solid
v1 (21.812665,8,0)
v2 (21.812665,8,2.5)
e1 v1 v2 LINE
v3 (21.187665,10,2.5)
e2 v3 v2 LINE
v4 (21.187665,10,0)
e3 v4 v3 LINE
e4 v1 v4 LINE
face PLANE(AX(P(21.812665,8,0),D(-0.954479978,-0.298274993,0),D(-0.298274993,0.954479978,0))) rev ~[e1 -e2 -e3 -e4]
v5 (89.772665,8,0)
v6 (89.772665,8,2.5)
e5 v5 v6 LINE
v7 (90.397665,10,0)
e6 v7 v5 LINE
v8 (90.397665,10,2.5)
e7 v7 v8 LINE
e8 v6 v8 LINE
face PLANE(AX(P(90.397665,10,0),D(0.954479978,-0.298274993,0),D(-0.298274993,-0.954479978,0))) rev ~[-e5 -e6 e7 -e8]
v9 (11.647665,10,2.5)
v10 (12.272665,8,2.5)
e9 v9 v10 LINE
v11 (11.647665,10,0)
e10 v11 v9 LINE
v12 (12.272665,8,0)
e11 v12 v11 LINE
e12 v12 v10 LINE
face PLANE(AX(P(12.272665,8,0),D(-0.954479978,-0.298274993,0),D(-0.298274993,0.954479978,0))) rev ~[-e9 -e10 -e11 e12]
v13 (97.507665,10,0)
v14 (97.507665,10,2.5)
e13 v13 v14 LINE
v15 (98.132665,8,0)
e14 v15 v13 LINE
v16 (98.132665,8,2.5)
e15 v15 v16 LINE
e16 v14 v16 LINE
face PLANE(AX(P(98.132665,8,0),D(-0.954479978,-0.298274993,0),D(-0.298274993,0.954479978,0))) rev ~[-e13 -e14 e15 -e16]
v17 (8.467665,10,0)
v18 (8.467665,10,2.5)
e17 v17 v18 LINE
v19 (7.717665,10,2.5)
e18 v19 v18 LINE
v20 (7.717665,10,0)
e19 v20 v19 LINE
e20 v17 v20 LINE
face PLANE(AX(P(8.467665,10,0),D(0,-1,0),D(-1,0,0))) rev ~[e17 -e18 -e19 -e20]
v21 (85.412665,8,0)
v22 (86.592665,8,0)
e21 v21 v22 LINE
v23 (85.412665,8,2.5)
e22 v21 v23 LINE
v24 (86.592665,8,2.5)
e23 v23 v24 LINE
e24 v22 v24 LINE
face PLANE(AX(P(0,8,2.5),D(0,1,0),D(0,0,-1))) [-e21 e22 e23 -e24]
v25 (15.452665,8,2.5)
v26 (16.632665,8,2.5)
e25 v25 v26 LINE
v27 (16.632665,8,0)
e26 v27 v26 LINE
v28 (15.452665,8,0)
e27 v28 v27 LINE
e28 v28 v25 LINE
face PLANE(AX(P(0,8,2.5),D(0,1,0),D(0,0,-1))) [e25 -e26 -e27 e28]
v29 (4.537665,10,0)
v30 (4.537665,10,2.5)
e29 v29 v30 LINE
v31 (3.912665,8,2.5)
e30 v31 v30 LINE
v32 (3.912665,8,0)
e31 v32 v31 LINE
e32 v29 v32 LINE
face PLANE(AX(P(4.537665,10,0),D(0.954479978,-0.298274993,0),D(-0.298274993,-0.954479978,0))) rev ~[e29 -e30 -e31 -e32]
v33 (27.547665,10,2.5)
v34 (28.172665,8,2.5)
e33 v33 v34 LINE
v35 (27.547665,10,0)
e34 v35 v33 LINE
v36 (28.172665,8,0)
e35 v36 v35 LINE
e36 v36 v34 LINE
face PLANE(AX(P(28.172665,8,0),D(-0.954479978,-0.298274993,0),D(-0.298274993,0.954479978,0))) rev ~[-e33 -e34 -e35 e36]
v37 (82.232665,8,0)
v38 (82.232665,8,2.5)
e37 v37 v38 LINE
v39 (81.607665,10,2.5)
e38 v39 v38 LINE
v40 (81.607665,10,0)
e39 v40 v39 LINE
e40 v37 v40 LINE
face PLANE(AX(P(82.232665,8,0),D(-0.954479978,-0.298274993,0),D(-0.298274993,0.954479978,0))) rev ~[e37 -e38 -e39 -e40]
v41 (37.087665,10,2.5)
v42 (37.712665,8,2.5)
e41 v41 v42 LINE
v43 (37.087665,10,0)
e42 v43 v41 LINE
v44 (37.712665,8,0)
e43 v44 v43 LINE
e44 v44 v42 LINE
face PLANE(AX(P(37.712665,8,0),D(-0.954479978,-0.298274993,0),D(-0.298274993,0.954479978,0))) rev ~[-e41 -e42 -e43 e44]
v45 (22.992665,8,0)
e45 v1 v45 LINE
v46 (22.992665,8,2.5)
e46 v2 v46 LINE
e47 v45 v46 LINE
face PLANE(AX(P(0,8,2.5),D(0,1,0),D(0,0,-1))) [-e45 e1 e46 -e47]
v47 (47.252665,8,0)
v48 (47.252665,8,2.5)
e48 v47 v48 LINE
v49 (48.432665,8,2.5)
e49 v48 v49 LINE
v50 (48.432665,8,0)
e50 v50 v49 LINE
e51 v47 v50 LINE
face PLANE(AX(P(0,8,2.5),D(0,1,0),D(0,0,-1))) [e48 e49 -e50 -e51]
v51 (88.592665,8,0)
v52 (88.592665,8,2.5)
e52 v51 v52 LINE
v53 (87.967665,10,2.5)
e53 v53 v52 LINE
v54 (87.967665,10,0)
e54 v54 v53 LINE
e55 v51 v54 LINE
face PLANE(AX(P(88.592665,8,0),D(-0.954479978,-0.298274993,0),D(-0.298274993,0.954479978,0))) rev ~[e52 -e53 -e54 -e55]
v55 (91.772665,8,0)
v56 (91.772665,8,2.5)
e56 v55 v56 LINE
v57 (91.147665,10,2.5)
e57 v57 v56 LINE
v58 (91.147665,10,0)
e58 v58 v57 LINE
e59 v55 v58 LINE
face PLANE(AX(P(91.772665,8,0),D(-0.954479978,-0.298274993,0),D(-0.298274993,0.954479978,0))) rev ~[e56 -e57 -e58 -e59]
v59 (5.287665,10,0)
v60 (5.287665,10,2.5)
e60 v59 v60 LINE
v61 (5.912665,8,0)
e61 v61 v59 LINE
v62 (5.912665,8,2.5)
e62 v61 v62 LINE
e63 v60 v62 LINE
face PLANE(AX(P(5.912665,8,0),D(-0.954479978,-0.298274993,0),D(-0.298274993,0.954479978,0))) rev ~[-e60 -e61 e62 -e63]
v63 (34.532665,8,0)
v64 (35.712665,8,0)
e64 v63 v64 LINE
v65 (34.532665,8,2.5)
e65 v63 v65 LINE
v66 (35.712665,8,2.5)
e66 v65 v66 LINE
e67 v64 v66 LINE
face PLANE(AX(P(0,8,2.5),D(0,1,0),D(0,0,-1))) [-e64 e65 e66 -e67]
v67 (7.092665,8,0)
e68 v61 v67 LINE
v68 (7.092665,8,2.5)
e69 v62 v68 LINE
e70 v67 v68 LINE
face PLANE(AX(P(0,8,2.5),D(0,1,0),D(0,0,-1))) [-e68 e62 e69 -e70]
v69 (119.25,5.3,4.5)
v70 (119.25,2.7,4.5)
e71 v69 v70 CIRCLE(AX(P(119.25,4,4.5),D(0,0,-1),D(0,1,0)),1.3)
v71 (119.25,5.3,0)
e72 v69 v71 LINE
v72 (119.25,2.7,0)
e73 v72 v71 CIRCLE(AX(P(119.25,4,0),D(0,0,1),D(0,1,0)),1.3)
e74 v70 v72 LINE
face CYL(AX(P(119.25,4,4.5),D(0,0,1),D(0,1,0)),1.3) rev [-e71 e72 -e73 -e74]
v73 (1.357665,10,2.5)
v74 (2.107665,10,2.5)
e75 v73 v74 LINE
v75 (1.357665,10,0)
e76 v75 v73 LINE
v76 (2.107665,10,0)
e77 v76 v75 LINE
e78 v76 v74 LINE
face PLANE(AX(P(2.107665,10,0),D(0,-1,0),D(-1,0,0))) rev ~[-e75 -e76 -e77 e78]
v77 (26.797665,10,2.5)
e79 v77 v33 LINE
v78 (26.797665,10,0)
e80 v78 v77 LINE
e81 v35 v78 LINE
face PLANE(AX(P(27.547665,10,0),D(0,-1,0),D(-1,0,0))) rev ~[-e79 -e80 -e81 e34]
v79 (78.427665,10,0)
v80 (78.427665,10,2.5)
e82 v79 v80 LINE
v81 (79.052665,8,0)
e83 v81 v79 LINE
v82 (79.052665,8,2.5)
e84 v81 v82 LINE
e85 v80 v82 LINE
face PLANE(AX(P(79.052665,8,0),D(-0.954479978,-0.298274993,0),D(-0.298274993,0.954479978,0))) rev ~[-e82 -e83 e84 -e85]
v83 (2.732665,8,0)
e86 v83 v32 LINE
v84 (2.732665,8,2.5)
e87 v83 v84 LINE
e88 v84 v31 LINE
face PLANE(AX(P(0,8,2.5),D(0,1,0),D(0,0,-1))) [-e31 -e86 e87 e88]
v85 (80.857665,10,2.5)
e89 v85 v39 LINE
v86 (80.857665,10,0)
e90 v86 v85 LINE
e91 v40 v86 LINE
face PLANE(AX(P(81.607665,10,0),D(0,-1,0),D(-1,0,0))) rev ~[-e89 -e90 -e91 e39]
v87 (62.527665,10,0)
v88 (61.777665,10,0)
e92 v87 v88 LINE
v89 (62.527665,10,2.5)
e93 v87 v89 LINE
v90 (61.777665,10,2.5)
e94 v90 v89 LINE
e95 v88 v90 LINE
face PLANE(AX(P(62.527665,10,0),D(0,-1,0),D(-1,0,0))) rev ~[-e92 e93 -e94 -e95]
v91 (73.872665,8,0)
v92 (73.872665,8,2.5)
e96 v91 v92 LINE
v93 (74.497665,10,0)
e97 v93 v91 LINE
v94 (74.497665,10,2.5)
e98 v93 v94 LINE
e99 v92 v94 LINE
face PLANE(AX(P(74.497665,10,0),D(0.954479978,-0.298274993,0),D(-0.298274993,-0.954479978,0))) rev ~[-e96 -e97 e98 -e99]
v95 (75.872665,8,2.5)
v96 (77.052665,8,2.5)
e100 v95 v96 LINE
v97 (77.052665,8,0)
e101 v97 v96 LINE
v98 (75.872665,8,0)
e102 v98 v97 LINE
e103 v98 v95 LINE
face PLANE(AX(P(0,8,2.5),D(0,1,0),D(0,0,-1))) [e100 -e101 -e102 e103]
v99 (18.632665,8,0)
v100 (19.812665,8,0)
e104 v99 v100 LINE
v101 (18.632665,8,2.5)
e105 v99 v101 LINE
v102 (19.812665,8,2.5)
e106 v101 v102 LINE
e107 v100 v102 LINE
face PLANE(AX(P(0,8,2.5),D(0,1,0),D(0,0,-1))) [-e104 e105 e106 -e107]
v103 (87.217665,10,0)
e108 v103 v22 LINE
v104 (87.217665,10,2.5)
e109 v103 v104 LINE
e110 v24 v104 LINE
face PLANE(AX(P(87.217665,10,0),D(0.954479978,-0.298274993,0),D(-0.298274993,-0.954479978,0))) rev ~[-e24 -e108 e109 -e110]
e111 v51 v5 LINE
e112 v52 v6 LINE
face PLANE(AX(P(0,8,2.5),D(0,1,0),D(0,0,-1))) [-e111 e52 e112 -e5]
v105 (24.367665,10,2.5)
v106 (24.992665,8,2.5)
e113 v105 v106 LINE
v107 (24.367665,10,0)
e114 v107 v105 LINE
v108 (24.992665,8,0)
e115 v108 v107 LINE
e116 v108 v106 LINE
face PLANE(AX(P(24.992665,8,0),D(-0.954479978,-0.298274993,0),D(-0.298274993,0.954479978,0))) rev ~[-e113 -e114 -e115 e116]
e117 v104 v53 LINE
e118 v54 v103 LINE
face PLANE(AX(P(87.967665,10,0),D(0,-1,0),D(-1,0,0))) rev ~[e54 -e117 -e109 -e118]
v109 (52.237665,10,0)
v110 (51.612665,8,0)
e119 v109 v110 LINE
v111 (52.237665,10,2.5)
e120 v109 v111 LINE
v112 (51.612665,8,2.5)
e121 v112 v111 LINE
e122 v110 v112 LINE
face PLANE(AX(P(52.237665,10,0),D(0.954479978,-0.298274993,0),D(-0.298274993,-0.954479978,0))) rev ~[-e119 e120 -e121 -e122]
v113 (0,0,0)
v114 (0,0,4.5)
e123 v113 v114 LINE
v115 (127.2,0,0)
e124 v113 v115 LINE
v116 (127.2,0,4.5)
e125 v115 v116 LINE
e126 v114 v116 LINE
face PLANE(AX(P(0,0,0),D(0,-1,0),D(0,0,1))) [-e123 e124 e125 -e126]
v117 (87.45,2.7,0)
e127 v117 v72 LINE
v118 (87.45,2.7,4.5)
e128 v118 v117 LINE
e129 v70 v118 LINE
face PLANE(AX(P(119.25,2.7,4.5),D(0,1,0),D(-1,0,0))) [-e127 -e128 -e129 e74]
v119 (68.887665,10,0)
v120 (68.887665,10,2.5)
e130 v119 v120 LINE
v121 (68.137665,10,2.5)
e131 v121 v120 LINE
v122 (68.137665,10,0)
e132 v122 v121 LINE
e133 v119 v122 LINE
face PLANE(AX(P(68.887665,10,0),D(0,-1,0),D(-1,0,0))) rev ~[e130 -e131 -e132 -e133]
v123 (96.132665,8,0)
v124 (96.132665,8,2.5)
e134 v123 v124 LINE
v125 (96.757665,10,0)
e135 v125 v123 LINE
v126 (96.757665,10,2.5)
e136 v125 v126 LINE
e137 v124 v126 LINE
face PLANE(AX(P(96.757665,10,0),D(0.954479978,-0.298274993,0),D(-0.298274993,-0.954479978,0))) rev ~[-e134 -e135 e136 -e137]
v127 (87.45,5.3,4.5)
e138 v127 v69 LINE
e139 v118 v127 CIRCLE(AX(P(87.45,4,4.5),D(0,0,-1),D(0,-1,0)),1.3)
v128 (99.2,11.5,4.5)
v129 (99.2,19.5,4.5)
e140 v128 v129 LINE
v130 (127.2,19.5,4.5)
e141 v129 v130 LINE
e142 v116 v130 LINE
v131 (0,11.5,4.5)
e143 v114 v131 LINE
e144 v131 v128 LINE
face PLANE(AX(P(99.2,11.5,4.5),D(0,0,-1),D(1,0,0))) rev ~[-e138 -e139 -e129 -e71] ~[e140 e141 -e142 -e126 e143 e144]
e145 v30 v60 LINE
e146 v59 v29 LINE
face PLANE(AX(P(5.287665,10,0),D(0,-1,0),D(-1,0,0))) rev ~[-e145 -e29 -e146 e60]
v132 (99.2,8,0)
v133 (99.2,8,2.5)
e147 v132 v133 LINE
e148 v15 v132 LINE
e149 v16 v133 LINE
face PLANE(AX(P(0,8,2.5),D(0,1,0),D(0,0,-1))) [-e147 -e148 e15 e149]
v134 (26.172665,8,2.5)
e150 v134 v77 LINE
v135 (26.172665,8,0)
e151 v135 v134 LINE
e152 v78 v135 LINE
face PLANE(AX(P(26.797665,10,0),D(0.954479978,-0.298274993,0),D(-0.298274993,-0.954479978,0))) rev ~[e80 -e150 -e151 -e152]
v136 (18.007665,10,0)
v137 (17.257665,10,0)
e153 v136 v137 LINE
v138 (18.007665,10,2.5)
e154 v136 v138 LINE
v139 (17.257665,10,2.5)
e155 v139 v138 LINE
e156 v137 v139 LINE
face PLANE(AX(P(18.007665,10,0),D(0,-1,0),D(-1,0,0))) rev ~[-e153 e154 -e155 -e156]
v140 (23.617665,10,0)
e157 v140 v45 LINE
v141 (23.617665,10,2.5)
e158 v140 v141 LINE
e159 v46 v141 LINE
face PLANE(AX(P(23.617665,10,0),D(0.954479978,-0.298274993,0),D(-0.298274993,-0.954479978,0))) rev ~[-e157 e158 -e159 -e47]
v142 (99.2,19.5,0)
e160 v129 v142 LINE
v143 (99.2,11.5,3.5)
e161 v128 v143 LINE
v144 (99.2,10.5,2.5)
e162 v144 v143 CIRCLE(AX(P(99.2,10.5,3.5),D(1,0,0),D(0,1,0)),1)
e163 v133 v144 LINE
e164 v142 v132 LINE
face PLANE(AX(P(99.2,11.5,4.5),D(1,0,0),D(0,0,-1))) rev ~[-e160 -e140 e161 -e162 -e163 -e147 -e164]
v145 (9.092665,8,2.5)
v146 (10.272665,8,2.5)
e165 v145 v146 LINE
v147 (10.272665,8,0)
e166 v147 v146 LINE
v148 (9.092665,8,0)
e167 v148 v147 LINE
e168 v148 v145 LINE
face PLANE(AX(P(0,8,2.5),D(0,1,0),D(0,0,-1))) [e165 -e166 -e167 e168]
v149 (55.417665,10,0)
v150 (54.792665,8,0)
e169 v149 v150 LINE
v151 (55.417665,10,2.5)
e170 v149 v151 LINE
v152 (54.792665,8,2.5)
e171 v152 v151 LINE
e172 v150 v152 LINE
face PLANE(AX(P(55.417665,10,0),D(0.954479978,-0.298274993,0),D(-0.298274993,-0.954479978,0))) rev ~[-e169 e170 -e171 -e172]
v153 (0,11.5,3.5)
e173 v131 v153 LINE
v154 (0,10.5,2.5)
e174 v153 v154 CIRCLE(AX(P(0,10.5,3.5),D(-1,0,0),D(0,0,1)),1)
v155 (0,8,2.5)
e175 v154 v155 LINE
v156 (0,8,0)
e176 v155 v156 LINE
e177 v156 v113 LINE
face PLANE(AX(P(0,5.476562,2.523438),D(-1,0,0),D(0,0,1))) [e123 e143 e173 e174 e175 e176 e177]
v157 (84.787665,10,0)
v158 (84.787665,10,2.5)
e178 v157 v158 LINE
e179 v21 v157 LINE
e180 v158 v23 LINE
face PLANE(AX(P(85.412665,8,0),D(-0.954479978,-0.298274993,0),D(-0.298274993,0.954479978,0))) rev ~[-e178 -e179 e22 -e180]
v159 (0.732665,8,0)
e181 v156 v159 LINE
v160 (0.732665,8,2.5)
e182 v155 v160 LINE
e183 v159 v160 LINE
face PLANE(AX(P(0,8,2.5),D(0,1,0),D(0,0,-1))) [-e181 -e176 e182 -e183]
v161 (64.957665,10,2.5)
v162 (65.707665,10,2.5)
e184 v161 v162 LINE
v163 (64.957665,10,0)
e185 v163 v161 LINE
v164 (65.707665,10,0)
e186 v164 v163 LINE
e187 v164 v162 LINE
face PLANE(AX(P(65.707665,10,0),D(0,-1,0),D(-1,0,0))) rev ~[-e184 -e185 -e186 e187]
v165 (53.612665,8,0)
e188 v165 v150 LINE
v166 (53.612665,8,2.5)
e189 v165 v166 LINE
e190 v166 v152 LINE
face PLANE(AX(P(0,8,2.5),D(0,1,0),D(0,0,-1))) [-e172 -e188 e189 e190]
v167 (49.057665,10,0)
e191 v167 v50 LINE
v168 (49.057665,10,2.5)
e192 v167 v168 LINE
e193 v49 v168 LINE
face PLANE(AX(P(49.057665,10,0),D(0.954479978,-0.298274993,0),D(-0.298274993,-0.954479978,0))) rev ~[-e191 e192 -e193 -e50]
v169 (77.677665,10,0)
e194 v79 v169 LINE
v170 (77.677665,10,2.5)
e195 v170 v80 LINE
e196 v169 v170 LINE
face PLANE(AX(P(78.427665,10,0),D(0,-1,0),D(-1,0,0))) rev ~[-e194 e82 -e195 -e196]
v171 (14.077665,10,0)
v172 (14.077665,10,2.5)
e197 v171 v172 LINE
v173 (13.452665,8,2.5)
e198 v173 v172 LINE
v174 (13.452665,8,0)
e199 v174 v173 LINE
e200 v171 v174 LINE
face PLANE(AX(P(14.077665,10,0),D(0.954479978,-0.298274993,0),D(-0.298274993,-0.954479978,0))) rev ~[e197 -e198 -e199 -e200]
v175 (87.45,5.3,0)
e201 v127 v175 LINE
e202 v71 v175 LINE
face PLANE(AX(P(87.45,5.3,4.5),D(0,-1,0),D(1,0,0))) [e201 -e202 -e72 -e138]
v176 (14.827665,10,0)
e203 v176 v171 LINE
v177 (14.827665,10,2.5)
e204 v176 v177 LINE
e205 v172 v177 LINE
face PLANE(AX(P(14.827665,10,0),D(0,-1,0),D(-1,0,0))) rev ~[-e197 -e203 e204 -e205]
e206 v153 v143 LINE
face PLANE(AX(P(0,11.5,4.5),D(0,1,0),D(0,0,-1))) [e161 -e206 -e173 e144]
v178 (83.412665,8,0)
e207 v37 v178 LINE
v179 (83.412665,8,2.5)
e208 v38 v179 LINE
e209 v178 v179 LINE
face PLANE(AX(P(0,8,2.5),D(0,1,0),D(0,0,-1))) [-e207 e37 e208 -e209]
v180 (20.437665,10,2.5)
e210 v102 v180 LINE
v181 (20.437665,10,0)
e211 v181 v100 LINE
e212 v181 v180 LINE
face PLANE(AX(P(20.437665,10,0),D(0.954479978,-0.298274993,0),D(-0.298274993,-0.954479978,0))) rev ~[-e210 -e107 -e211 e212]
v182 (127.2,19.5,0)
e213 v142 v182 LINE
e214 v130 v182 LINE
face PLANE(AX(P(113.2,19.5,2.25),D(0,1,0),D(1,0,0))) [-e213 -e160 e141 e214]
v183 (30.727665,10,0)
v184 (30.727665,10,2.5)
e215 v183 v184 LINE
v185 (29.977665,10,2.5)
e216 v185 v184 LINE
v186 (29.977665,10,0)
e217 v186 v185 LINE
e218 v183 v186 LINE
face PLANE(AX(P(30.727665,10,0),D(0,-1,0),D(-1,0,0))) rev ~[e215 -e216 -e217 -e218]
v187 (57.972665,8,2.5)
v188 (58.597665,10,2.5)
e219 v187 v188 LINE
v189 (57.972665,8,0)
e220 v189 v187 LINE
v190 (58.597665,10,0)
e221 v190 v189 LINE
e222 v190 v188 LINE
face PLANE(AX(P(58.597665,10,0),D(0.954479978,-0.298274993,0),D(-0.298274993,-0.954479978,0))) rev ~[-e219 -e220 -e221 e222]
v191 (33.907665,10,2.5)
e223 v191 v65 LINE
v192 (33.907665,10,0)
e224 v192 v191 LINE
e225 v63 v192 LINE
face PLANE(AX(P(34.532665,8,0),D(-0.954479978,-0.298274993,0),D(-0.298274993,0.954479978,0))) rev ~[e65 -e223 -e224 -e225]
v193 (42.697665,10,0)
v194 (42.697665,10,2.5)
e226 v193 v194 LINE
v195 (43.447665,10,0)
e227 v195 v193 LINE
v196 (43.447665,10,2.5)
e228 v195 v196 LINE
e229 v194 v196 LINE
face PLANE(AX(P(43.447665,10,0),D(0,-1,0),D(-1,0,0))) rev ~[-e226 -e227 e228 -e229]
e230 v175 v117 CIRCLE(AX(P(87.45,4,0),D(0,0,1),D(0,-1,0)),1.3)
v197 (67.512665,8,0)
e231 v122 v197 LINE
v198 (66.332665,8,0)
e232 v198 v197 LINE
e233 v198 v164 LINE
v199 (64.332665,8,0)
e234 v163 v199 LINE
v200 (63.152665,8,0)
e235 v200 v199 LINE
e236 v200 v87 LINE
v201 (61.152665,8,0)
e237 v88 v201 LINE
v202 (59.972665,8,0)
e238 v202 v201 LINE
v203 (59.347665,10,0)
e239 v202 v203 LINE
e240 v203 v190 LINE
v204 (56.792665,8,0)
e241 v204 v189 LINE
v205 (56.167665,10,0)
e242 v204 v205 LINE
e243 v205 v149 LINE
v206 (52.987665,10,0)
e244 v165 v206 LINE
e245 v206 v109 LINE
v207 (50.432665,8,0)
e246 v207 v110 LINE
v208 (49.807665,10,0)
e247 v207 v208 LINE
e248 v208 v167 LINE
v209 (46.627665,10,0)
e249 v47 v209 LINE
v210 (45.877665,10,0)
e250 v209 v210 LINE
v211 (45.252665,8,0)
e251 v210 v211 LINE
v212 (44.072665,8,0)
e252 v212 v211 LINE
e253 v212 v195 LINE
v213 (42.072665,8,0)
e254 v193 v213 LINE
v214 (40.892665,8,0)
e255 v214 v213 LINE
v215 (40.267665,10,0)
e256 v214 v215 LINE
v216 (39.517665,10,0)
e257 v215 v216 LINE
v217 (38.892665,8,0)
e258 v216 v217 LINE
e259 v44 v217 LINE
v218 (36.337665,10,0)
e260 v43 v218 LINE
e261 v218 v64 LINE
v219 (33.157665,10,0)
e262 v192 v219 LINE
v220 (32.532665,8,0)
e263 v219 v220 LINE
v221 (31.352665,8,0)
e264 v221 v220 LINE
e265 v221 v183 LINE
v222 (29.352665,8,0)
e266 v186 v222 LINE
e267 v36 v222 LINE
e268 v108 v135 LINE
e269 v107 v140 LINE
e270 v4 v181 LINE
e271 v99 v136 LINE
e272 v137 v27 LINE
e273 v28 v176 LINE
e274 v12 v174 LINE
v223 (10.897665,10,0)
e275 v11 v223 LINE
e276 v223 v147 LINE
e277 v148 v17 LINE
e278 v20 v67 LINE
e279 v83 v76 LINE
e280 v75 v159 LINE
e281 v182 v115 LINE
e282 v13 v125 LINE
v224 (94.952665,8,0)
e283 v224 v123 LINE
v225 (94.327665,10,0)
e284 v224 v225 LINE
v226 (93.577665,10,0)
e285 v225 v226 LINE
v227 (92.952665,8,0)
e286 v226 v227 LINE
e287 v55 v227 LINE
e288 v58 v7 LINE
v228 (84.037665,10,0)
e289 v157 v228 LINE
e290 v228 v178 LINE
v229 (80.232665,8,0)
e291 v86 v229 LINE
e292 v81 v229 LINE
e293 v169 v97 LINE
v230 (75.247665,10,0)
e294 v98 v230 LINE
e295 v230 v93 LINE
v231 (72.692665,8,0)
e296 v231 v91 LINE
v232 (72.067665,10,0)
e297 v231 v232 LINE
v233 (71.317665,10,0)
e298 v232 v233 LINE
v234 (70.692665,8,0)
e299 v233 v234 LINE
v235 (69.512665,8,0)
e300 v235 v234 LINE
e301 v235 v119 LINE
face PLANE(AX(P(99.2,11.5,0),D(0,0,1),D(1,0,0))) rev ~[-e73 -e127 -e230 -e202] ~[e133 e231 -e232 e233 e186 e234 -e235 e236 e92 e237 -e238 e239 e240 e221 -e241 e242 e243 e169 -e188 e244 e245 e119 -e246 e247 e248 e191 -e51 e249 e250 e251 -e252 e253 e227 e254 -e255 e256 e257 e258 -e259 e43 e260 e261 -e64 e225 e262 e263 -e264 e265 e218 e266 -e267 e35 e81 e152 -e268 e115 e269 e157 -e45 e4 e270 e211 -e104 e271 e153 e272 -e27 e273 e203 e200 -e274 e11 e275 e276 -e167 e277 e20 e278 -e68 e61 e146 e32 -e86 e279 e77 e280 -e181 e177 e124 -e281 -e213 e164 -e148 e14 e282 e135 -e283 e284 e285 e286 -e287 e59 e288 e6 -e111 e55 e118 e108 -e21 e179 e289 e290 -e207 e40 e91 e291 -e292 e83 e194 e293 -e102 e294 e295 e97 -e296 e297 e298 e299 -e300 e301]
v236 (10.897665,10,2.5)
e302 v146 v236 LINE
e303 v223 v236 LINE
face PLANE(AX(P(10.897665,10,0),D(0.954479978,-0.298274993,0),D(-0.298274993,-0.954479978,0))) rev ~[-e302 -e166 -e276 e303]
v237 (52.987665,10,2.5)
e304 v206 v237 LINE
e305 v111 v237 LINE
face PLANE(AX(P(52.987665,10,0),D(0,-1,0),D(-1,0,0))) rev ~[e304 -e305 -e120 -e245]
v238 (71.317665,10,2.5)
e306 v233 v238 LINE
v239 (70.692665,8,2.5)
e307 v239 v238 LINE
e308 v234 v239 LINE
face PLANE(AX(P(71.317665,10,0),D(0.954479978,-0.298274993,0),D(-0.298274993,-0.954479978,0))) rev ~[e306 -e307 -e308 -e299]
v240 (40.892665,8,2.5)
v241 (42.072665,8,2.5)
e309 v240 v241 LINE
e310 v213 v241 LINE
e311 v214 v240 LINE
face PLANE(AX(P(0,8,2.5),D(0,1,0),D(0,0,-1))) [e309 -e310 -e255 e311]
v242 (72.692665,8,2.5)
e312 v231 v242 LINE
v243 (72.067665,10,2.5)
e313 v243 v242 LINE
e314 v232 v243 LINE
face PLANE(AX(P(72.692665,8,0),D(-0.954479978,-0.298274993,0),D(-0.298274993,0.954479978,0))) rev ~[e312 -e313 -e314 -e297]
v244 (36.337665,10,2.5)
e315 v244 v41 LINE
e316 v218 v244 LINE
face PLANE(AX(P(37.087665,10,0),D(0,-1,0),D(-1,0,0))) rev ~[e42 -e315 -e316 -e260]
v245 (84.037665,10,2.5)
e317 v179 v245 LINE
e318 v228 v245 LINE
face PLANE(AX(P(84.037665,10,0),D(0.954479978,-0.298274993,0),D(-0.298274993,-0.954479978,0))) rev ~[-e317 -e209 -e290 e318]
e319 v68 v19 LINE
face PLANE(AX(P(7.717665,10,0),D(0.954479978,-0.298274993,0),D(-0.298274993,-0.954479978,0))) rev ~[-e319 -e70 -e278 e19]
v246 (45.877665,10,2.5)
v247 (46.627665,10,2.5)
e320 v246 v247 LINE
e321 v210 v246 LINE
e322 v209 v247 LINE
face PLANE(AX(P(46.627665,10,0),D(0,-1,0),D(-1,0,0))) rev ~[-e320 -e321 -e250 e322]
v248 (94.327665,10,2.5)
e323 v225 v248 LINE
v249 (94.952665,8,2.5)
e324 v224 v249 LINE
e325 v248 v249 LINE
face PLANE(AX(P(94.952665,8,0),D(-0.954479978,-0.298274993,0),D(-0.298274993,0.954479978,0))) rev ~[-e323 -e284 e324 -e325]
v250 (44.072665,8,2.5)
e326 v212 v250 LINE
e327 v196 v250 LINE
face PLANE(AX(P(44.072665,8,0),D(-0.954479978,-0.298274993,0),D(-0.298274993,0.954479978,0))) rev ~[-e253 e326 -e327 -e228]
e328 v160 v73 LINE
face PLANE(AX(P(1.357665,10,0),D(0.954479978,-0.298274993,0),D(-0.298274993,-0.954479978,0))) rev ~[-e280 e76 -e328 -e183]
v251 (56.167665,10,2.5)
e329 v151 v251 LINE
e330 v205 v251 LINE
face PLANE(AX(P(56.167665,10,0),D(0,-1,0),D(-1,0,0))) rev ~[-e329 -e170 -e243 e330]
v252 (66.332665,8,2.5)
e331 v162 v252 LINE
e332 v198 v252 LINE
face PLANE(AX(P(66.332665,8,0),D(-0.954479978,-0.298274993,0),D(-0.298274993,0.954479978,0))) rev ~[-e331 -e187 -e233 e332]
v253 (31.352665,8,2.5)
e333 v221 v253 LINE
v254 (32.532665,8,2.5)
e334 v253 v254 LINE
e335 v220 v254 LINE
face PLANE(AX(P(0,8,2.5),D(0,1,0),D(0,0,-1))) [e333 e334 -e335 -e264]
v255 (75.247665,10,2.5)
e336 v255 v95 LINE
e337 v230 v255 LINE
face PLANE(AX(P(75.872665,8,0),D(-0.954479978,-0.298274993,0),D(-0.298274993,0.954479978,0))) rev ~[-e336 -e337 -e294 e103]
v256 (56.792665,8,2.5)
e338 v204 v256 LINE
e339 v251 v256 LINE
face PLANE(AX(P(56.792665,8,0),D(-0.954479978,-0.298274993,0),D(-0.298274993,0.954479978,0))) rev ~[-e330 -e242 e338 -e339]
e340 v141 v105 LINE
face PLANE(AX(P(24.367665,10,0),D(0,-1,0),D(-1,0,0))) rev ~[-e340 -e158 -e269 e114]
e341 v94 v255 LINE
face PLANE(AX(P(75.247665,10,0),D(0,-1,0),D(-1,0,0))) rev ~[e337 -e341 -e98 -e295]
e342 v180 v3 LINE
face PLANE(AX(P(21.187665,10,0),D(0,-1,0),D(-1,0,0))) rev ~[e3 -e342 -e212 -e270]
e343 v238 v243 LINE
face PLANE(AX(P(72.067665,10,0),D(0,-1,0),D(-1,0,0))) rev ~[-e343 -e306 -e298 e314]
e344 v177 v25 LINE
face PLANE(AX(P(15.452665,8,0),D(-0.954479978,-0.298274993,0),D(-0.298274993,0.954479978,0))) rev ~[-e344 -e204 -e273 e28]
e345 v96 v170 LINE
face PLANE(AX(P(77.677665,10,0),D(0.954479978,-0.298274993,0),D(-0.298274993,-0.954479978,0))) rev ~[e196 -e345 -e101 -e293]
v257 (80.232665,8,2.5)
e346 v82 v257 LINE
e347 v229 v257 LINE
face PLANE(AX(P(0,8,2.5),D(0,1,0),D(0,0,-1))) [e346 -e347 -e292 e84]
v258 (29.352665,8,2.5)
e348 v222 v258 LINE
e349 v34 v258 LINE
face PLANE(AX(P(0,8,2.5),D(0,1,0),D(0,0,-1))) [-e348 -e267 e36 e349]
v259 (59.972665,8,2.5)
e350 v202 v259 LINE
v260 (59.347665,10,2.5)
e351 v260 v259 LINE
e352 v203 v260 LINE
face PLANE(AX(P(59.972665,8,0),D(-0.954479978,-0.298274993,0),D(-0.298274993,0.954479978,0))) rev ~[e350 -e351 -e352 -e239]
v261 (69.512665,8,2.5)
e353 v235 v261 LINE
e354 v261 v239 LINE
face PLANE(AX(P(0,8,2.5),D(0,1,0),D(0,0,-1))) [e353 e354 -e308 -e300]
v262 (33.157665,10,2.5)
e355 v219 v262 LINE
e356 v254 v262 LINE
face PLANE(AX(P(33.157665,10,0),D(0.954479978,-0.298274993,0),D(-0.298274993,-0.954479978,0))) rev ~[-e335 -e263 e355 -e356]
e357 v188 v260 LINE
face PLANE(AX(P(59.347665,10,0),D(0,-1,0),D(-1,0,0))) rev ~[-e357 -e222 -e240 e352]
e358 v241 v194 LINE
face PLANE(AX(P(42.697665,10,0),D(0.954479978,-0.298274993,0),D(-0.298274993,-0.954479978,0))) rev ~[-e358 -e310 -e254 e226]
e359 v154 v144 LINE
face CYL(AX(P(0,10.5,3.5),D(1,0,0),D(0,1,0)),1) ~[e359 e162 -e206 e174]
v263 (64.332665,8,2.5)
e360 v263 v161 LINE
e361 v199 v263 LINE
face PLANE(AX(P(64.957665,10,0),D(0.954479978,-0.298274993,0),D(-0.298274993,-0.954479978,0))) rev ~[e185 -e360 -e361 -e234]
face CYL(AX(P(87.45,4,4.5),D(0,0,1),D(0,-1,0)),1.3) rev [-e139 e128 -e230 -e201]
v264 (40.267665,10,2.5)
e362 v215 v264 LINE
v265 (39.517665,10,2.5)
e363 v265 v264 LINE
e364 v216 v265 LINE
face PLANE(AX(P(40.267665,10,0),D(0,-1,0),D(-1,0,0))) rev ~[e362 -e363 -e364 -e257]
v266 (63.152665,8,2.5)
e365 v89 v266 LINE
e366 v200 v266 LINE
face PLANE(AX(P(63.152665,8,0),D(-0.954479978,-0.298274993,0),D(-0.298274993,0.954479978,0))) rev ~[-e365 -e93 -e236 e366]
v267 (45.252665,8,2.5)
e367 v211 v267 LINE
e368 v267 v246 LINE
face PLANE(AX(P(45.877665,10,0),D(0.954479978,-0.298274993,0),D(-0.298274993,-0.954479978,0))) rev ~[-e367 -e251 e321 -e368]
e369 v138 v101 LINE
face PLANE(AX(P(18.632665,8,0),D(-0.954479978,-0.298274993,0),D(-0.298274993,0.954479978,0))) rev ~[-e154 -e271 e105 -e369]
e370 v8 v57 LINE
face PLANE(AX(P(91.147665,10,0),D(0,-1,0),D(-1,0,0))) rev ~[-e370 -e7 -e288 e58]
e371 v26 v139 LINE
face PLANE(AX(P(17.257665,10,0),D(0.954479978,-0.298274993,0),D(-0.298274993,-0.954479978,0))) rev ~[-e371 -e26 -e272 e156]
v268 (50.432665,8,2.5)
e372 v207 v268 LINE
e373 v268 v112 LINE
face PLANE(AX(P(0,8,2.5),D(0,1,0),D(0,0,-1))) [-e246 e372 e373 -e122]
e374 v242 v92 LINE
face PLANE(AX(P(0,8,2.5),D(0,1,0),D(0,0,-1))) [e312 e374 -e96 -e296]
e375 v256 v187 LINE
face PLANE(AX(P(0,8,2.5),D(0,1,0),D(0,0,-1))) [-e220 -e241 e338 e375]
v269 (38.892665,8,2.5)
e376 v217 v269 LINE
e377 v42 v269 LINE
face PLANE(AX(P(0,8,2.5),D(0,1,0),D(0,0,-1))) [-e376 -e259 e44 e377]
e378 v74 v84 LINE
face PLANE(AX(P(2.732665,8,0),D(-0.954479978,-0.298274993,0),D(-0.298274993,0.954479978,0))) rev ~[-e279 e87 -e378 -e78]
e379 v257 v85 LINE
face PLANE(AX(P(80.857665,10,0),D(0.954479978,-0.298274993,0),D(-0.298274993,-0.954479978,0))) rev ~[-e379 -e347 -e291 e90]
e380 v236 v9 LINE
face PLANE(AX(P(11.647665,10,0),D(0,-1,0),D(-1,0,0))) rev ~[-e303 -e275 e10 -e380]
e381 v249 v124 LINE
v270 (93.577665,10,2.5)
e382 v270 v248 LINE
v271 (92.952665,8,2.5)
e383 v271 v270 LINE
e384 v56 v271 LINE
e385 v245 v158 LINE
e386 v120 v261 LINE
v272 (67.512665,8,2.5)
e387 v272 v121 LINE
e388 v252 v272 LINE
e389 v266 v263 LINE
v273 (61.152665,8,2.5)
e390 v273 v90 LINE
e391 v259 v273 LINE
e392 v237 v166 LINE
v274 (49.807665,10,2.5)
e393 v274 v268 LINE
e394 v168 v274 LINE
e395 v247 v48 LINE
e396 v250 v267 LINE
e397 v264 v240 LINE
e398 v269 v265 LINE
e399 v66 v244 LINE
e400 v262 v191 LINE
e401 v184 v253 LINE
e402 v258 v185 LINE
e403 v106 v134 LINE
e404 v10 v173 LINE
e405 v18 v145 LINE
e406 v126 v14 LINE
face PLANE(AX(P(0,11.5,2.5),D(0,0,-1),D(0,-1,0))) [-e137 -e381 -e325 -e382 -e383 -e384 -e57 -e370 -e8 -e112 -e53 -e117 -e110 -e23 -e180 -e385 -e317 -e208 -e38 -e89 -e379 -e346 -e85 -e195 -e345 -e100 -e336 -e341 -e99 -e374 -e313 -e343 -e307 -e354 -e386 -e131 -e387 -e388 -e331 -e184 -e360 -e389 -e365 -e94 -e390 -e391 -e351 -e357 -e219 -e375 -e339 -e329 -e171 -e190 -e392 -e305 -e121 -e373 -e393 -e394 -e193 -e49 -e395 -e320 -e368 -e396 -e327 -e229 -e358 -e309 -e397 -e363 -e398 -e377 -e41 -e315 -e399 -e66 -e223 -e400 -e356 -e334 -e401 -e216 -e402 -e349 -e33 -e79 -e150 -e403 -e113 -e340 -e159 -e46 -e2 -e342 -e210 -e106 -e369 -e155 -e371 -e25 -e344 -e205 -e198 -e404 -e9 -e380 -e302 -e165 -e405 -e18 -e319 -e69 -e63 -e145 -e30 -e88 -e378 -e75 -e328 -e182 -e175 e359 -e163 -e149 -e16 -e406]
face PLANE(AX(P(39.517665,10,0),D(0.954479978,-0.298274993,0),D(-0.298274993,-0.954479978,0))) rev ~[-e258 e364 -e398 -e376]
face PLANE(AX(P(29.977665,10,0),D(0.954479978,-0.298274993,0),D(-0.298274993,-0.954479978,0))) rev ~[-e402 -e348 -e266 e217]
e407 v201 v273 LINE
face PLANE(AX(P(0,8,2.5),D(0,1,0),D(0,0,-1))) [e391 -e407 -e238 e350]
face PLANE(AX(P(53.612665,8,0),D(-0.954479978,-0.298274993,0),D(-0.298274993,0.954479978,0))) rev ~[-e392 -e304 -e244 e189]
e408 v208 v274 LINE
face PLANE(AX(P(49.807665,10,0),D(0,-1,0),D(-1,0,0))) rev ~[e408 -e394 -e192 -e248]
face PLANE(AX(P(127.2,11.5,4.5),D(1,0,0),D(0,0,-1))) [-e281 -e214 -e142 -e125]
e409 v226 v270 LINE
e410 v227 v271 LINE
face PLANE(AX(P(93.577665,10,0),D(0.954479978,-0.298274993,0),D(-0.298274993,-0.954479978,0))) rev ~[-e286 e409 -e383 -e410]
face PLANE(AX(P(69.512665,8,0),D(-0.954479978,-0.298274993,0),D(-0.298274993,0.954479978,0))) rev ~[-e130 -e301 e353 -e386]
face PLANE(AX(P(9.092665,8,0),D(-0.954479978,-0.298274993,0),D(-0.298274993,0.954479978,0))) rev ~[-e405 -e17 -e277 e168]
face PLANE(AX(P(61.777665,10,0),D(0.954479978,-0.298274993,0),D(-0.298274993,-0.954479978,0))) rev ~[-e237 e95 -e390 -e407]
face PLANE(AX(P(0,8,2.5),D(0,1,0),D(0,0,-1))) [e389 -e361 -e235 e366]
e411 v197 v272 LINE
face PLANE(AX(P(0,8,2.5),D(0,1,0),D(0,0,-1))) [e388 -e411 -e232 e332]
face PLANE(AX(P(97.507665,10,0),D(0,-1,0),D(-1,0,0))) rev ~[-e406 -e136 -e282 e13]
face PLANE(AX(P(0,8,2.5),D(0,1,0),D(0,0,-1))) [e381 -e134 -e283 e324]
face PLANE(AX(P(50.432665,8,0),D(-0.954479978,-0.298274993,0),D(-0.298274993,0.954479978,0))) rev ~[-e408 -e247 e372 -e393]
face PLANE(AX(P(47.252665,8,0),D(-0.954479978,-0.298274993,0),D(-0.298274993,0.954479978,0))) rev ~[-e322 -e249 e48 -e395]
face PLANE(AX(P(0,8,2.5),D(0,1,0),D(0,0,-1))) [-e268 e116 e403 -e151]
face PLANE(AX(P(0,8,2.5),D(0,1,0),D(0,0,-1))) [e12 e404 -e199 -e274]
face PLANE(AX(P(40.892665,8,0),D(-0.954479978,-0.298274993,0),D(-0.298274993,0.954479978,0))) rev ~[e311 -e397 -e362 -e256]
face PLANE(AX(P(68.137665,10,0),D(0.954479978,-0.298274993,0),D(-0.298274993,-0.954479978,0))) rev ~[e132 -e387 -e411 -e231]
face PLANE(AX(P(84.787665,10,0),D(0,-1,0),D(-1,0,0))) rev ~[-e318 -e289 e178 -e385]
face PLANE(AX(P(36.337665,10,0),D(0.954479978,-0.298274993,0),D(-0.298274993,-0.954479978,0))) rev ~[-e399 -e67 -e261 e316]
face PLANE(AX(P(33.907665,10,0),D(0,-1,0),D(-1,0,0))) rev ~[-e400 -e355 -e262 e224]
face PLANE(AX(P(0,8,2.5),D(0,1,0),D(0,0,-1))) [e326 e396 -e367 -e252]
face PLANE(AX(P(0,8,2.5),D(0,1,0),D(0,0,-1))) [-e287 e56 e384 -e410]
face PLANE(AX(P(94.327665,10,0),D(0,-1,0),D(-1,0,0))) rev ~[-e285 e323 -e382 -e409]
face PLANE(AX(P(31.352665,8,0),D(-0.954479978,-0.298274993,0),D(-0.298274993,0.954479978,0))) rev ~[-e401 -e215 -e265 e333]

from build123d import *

# Parameters (mm, degrees)
BOSS_EXTRUDE3_DEPTH             = 127.2
CUT_EXTRUDE1_DEPTH              = 128.798043803
BOSS_EXTRUDE5_REACH             = 129.798
LPATTERN3_COUNT                 = 30
LPATTERN3_PITCH                 = 3.18
LPATTERN3_COL_COUNT             = 11
LPATTERN3_COL_PITCH             = 3.18
FILLET2_R                       = 1
SKETCH9_W                       = 28
SKETCH9_H                       = 4.5
BOSS_EXTRUDE6_DEPTH             = 8
BOSS_EXTRUDE6_DIRECTION_2_REACH = 129.798


with BuildPart() as part:
    # Sketch4 → Boss-Extrude3 (new body)
    with BuildSketch(Plane(origin=(0, 0, 0), x_dir=(0, 0, -1), z_dir=(1, 0, 0))):
        Polygon((0, 0), (-4.5, 0), (-4.5, 11.5), (-2.5, 11.5), (-2.5, 8), (0, 8), align=None)
    extrude(amount=BOSS_EXTRUDE3_DEPTH)

    # Sketch6 → Cut-Extrude1 (cut, through all)
    with BuildSketch(Plane.XY.offset(4.5)):
        with BuildLine():
            Line((87.45, 5.3), (119.25, 5.3))
            ThreePointArc((119.25, 5.3), (120.55, 4), (119.25, 2.7))
            Line((119.25, 2.7), (87.45, 2.7))
            ThreePointArc((87.45, 2.7), (86.15, 4), (87.45, 5.3))
        make_face()
    extrude(amount=-CUT_EXTRUDE1_DEPTH, mode=Mode.SUBTRACT)

    # Sketch8 → Boss-Extrude5 (add, up to next)
    with BuildSketch(Plane(origin=(0, 0, 0), x_dir=(-1, 0, 0), z_dir=(0, 0, -1)), mode=Mode.PRIVATE) as boss_extrude5_sk1:
        Polygon((-94.952664599, 8), (-94.327664599, 10), (-93.577664599, 10), (-92.952664599, 8), align=None)
    boss_extrude5_tool1 = extrude(boss_extrude5_sk1.sketch, amount=-BOSS_EXTRUDE5_REACH, mode=Mode.PRIVATE) - part.part
    boss_extrude5 = boss_extrude5_tool1.solids().sort_by_distance((93.952665, 8.848485, 0))[0]
    add(boss_extrude5)

    # LPattern3: Boss-Extrude5 ×30
    with Locations(*[(-i * LPATTERN3_PITCH, 0, 0) for i in range(1, LPATTERN3_COUNT)]):
        add(boss_extrude5)

    # LPattern3 col: Boss-Extrude5 ×11
    with Locations(*[(i * LPATTERN3_COL_PITCH, 0, 0) for i in range(1, LPATTERN3_COL_COUNT)]):
        add(boss_extrude5)

    # Fillet2
    fillet2_edges = [part.edges().sort_by_distance(p)[0] for p in [
        (63.6, 11.5, 2.5),
    ]]
    fillet(fillet2_edges, radius=FILLET2_R)

    # Sketch9 → Boss-Extrude6 (add)
    with BuildSketch(Plane(origin=(0, 11.5, 0), x_dir=(1, 0, 0), z_dir=(0, 1, 0))):
        with Locations((113.2, -2.25)):
            Rectangle(SKETCH9_W, SKETCH9_H)
    extrude(amount=BOSS_EXTRUDE6_DEPTH)

    # Sketch9 → Boss-Extrude6 direction 2 (add, up to next)
    with BuildSketch(Plane(origin=(0, 11.5, 0), x_dir=(1, 0, 0), z_dir=(0, 1, 0)), mode=Mode.PRIVATE) as boss_extrude6_direction_2_sk1:
        with Locations((113.2, -2.25)):
            Rectangle(SKETCH9_W, SKETCH9_H)
    boss_extrude6_direction_2_tool1 = extrude(boss_extrude6_direction_2_sk1.sketch, amount=-BOSS_EXTRUDE6_DIRECTION_2_REACH, mode=Mode.PRIVATE) - part.part
    add(boss_extrude6_direction_2_tool1.solids().sort_by_distance((113.2, 11.5, 2.25))[0])


solid = part.part
